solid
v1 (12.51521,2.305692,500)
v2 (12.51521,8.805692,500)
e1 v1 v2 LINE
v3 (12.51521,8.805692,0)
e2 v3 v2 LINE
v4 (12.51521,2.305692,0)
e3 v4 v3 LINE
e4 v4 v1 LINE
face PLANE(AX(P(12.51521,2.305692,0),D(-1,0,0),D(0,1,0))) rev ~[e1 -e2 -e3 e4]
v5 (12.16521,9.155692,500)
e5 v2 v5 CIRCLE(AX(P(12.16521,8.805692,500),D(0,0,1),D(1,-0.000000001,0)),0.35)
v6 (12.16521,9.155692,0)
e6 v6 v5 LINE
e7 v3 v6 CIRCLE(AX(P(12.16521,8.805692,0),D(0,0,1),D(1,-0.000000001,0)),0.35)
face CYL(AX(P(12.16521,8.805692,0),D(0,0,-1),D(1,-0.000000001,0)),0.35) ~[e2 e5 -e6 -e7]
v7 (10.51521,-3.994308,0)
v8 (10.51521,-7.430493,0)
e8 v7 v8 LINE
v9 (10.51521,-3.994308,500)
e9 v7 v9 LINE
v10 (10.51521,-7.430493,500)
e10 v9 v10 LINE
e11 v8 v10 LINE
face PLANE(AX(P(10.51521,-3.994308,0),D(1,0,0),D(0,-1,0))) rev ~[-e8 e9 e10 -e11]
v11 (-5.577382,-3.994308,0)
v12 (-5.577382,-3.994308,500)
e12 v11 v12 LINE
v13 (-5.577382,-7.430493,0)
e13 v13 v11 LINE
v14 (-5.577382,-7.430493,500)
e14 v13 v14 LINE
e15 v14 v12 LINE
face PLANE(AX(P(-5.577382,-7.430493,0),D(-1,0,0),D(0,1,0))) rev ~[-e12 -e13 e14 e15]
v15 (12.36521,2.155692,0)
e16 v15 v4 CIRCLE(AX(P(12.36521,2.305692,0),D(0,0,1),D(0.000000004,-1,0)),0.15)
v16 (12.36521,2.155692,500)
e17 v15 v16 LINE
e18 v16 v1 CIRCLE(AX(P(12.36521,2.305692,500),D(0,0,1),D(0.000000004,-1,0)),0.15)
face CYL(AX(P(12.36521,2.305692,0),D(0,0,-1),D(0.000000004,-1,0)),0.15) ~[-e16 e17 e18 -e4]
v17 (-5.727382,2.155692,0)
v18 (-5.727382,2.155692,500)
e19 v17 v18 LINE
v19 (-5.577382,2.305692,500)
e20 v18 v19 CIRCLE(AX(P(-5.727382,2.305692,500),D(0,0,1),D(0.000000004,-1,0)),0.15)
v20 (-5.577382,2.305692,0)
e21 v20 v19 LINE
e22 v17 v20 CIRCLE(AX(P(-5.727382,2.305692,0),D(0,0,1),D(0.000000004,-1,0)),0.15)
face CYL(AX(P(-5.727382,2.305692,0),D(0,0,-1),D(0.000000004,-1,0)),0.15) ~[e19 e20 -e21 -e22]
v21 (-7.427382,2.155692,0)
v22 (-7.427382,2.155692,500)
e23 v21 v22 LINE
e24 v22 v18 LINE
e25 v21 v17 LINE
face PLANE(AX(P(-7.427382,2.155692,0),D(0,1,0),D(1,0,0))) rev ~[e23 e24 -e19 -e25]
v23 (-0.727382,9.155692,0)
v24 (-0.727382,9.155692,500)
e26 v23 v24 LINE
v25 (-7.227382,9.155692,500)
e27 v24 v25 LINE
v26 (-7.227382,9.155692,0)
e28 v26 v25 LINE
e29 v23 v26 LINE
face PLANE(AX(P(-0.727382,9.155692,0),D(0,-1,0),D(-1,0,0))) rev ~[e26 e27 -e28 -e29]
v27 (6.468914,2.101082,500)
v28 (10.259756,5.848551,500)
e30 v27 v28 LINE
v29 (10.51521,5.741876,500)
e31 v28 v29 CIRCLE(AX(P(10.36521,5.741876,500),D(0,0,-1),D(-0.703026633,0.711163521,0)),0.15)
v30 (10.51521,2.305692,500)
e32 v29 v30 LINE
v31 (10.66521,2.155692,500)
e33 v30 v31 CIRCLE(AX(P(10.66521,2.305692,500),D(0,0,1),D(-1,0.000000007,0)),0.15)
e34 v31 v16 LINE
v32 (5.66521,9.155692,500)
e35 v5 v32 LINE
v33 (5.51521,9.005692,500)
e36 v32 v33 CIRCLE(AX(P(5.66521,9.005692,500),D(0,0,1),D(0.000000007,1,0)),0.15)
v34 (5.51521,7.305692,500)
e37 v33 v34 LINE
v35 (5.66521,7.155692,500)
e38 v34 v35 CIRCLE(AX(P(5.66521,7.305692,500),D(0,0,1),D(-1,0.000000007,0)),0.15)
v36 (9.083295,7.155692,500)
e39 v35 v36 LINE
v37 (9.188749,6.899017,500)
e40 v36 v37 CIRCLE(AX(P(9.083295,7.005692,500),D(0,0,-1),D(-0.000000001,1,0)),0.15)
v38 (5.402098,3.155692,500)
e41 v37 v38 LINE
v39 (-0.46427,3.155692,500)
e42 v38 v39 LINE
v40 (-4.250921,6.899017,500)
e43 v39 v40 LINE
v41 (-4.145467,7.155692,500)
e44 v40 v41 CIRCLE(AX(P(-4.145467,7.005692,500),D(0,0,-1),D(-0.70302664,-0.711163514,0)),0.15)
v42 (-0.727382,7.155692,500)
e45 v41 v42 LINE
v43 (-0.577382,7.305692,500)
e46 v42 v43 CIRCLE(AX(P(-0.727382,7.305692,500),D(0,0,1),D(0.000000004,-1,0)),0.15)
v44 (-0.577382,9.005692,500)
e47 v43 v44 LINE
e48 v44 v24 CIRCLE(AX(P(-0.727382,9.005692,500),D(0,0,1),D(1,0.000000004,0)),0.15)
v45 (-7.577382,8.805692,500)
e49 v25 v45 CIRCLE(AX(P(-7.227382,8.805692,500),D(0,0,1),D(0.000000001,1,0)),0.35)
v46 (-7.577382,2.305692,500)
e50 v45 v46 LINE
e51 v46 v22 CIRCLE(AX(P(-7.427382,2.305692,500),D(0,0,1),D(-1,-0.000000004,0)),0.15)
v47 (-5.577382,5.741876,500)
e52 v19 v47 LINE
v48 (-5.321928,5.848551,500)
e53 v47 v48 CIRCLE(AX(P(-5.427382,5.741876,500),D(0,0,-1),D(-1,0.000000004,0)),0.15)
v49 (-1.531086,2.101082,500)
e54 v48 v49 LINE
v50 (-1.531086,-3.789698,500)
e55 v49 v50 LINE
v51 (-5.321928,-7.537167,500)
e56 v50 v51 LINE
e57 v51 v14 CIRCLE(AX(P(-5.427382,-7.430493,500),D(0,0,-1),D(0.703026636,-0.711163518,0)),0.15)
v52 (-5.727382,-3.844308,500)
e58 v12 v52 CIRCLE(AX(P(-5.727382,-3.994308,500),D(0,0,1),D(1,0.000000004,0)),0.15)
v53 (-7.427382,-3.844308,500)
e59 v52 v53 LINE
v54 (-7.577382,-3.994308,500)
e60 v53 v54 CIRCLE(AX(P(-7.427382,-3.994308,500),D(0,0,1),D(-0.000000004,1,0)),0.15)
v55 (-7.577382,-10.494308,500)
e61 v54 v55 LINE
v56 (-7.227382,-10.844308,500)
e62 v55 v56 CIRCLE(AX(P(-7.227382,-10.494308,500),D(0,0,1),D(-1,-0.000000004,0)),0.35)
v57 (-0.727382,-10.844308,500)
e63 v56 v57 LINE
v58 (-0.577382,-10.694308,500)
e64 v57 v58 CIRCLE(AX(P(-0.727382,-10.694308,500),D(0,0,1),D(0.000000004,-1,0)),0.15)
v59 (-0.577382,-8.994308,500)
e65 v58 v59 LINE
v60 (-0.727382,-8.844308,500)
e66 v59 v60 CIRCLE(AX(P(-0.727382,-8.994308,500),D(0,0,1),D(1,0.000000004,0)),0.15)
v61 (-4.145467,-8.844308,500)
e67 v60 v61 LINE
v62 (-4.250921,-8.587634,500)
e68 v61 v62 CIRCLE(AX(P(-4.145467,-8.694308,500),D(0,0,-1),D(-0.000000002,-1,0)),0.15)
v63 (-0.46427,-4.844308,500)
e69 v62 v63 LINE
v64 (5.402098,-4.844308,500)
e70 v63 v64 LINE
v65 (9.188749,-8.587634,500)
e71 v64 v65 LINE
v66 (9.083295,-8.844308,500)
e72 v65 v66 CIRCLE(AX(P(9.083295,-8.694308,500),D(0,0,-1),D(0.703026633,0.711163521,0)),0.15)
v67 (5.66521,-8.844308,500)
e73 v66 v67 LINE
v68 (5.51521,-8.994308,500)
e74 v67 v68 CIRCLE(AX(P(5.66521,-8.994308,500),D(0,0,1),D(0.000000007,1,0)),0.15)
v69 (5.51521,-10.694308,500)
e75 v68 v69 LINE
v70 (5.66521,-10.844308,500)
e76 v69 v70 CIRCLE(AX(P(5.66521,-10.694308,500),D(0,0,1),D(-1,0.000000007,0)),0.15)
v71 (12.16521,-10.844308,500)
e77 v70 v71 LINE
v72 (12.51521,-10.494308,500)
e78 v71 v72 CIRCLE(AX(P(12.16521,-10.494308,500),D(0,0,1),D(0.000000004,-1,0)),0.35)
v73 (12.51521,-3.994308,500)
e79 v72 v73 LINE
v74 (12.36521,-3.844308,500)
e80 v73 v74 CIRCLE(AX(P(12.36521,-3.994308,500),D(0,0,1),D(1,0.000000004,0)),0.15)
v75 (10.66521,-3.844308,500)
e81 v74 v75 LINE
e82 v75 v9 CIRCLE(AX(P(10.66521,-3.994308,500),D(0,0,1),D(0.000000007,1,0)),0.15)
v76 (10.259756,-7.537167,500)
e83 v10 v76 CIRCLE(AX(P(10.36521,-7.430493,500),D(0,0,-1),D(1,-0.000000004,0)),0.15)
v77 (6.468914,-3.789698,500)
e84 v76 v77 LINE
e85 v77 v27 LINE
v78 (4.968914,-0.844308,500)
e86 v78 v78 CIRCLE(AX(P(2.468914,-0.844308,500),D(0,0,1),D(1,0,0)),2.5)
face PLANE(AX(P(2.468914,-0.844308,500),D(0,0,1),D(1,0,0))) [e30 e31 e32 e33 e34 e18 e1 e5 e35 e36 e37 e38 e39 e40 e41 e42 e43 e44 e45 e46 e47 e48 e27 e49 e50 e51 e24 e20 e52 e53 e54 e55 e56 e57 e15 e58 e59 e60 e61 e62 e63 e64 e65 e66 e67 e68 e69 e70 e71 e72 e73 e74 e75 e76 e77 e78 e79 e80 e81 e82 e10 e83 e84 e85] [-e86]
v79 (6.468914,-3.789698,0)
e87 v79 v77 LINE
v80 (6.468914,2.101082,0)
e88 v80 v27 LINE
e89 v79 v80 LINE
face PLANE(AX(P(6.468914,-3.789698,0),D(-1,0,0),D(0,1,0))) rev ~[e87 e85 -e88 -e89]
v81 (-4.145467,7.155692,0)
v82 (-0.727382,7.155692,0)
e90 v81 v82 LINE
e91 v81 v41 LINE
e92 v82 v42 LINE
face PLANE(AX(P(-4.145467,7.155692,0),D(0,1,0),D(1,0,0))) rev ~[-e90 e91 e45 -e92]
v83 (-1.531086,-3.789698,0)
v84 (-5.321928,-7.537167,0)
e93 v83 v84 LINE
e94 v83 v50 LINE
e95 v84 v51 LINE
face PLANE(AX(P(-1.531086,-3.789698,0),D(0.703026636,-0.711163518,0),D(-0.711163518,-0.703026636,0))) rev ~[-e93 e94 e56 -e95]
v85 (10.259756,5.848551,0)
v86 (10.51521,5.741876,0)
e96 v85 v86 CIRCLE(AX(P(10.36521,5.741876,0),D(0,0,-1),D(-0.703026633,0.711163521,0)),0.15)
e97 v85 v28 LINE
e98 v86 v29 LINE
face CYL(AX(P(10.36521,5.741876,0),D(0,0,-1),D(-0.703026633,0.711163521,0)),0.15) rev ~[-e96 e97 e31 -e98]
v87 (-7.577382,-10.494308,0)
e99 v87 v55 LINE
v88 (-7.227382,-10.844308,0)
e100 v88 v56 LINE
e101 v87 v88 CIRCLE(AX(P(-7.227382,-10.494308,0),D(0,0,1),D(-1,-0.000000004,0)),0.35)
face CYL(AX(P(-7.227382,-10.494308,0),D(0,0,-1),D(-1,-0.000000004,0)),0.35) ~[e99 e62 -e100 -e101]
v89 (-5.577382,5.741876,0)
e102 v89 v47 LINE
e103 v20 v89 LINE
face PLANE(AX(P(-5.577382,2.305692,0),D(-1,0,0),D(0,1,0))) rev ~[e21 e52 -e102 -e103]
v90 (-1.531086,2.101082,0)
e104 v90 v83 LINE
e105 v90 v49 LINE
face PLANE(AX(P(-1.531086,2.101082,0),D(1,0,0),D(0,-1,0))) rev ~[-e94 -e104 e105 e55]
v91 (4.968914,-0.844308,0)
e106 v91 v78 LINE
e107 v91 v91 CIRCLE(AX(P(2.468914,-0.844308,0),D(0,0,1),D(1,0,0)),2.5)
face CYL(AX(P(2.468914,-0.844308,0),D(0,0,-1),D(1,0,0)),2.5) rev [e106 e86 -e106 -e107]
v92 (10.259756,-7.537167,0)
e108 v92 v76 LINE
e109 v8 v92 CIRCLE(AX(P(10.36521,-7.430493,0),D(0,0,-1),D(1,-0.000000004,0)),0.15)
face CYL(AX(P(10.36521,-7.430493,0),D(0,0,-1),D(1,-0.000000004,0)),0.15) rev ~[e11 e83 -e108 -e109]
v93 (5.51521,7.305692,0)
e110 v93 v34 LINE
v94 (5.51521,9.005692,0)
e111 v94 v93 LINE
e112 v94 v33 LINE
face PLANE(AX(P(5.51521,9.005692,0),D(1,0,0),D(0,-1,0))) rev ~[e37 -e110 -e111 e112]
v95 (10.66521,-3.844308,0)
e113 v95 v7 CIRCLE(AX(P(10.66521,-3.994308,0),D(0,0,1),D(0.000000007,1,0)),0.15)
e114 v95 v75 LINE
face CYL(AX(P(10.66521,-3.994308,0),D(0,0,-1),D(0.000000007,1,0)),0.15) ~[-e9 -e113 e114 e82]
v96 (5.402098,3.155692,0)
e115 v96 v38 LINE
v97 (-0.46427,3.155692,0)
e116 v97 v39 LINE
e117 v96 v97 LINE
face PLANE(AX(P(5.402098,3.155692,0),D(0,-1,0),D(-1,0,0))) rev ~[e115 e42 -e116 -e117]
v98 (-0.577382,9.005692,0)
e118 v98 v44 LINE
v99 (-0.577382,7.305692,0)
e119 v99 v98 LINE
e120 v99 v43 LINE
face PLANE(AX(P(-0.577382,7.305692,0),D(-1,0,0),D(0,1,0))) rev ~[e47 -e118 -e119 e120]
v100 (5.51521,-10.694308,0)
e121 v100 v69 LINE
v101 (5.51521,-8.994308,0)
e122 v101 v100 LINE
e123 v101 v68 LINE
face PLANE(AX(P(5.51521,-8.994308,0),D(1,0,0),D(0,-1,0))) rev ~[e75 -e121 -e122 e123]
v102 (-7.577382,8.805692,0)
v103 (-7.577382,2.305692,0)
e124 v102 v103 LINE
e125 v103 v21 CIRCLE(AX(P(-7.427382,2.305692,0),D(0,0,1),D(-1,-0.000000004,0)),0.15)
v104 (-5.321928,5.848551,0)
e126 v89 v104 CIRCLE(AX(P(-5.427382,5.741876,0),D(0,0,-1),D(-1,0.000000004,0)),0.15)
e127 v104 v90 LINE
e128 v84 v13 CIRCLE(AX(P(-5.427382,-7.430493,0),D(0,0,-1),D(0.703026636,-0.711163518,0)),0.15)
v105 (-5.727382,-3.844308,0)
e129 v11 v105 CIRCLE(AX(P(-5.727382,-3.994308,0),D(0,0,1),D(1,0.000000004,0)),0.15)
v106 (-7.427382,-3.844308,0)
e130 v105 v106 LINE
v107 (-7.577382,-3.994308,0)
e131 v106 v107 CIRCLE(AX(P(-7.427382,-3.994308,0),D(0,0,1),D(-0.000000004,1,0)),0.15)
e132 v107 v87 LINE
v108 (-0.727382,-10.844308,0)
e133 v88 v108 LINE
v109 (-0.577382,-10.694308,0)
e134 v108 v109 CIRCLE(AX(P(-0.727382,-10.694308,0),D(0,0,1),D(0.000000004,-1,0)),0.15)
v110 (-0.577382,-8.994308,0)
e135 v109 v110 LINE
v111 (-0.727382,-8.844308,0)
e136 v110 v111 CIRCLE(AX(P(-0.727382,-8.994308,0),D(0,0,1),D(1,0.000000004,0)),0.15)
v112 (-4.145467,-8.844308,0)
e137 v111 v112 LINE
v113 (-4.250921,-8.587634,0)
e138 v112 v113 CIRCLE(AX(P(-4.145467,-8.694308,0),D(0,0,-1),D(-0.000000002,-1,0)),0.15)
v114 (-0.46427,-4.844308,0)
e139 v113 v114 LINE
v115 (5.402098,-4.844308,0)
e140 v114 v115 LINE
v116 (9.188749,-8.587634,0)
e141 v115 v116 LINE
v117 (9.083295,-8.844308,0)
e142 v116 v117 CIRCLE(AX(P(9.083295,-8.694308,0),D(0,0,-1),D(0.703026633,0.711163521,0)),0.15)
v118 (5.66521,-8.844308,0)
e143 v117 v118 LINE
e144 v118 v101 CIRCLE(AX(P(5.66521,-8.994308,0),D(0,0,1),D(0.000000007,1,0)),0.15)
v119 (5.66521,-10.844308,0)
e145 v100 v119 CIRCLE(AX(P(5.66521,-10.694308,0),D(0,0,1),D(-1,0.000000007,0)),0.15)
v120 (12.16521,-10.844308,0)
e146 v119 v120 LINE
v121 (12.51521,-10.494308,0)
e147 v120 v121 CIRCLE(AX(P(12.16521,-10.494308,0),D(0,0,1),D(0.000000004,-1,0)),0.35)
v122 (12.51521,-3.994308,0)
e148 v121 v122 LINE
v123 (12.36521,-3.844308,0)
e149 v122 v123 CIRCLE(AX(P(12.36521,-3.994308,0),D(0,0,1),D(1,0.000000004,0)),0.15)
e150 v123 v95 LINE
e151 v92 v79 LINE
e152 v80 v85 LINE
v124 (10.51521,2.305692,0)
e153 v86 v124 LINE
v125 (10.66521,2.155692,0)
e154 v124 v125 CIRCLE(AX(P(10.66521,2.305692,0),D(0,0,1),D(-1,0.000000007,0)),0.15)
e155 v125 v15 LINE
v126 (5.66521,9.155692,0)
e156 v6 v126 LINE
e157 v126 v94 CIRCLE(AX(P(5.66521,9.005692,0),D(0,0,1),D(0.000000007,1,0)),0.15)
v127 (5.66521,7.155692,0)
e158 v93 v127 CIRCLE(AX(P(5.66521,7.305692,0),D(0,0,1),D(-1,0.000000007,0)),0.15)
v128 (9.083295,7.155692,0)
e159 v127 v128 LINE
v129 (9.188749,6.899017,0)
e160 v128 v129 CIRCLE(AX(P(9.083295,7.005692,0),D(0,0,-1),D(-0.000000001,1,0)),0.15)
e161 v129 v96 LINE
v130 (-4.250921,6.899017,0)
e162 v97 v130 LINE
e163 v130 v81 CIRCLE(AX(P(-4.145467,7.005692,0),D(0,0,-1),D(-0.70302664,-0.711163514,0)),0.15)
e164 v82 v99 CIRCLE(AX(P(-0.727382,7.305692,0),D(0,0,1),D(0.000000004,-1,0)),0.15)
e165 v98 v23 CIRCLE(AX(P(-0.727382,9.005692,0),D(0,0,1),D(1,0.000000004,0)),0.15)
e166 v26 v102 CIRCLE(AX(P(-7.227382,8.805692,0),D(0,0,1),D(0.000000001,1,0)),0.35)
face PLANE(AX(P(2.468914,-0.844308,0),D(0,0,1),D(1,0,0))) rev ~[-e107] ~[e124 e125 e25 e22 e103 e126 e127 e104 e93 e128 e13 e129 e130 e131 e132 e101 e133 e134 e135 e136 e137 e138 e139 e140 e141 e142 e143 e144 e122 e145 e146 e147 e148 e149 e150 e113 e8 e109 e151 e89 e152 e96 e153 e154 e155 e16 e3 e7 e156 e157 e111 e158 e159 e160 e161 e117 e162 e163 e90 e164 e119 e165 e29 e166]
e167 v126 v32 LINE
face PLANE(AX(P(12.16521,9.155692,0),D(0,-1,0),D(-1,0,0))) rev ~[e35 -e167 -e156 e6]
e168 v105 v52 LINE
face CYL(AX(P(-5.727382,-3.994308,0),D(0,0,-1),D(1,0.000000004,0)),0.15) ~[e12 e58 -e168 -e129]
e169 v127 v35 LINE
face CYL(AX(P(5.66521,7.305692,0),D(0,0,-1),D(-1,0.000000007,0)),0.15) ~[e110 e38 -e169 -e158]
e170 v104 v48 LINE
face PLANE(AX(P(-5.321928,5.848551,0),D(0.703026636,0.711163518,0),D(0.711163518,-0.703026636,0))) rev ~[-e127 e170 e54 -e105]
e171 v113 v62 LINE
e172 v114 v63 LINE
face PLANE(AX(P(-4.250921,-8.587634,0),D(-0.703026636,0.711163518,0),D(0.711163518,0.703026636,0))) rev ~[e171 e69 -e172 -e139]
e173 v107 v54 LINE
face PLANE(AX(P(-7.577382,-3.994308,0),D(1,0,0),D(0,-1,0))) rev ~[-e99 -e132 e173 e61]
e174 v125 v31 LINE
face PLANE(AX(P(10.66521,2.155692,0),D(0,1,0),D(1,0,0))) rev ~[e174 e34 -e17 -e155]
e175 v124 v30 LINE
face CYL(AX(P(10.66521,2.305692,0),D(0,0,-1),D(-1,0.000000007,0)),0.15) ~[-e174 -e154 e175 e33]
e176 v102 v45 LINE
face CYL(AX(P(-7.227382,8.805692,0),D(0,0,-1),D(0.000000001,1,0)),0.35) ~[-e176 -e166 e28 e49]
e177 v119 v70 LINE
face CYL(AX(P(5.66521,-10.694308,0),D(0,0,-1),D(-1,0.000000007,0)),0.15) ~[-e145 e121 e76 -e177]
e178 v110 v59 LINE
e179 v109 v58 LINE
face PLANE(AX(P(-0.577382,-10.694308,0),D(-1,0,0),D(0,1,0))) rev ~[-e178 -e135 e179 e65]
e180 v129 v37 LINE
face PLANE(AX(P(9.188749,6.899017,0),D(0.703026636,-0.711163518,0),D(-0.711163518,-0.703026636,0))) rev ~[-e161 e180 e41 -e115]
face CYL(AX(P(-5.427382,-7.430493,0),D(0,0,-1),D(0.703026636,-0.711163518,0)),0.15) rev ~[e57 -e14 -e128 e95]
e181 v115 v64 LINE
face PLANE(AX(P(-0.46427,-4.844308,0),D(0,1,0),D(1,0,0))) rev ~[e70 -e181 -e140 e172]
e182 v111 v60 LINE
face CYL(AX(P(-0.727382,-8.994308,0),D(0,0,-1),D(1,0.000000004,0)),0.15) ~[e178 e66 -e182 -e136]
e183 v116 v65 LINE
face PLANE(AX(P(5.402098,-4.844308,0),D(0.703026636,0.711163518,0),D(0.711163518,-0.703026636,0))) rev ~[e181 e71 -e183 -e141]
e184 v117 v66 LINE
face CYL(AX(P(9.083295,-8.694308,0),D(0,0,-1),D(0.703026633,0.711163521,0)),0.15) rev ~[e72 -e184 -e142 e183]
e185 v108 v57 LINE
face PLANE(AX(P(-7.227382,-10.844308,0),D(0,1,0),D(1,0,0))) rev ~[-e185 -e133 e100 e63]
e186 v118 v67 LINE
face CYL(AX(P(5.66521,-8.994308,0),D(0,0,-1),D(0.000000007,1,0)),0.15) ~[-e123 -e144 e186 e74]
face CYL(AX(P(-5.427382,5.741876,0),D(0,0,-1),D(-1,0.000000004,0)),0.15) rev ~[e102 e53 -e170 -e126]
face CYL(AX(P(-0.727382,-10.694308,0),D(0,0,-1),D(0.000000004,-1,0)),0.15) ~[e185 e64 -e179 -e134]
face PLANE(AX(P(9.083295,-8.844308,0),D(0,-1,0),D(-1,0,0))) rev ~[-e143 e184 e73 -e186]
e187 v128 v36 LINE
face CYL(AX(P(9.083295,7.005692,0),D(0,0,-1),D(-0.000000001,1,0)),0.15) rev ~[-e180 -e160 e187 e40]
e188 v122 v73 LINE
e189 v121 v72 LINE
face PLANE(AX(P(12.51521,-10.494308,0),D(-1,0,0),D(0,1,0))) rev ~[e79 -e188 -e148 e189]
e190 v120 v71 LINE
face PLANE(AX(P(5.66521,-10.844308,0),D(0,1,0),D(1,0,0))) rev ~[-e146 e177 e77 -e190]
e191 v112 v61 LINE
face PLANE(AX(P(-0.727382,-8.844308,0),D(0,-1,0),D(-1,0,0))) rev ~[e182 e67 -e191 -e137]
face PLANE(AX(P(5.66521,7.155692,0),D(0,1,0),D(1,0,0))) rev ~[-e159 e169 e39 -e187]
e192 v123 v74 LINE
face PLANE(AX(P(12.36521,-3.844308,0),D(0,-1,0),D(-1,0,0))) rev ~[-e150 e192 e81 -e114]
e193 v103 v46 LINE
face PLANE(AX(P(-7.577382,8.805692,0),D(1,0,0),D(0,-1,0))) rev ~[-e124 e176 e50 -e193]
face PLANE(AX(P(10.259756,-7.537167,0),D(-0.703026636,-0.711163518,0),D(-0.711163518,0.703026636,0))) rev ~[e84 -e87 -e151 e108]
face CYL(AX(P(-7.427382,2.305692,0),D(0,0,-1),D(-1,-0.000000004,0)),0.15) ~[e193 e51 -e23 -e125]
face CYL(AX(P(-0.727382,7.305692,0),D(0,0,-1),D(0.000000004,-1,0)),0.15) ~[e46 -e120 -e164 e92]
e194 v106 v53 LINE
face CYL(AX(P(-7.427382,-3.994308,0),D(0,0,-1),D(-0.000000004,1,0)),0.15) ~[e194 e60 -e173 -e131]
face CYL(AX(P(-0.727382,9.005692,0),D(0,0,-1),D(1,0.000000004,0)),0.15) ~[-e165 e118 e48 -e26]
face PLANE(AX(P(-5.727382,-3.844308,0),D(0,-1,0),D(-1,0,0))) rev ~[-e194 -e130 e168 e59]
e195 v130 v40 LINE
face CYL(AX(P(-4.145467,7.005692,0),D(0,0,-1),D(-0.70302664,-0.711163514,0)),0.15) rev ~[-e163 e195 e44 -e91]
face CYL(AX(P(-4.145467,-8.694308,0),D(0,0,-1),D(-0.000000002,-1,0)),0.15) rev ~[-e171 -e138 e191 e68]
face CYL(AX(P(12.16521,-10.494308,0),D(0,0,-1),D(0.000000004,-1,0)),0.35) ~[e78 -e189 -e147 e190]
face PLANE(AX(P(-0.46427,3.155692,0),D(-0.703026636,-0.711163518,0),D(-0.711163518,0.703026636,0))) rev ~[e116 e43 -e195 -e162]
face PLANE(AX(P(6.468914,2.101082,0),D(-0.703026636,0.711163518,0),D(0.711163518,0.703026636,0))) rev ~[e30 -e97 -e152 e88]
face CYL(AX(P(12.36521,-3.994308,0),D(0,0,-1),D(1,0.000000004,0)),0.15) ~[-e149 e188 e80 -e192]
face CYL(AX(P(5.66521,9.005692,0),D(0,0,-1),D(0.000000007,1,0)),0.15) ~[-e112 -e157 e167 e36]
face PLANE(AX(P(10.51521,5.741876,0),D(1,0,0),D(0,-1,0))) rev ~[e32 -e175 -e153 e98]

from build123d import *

# Parameters (mm, degrees)
SKETCH1_R           = 2.5
BOSS_EXTRUDE1_DEPTH = 500


with BuildPart() as part:
    # Sketch1 → Boss-Extrude1 (new body)
    with BuildSketch(Plane.XY):
        with BuildLine():
            Line((-7.427382464, 2.155691805), (-5.727382464, 2.155691805))
            ThreePointArc((-5.727382464, 2.155691805), (-5.621316447, 2.199625788), (-5.577382464, 2.305691805))
            Line((-5.577382464, 2.305691805), (-5.577382464, 5.741876319))
            ThreePointArc((-5.577382464, 5.741876319), (-5.485183419, 5.880292537), (-5.321928469, 5.848550846))
            Line((-5.321928469, 5.848550846), (-1.531086168, 2.101082027))
            Line((-1.531086168, 2.101082027), (-1.531086168, -3.789698417))
            Line((-1.531086168, -3.789698417), (-5.321928469, -7.537167236))
            ThreePointArc((-5.321928469, -7.537167236), (-5.485183419, -7.568908927), (-5.577382464, -7.430492708))
            Line((-5.577382464, -7.430492708), (-5.577382464, -3.994308195))
            ThreePointArc((-5.577382464, -3.994308195), (-5.621316447, -3.888242178), (-5.727382464, -3.844308195))
            Line((-5.727382464, -3.844308195), (-7.427382464, -3.844308195))
            ThreePointArc((-7.427382464, -3.844308195), (-7.533448481, -3.888242178), (-7.577382464, -3.994308195))
            Line((-7.577382464, -3.994308195), (-7.577382464, -10.494308195))
            ThreePointArc((-7.577382464, -10.494308195), (-7.474869837, -10.741795568), (-7.227382464, -10.844308195))
            Line((-7.227382464, -10.844308195), (-0.727382464, -10.844308195))
            ThreePointArc((-0.727382464, -10.844308195), (-0.621316447, -10.800374212), (-0.577382464, -10.694308195))
            Line((-0.577382464, -10.694308195), (-0.577382464, -8.994308195))
            ThreePointArc((-0.577382464, -8.994308195), (-0.621316447, -8.888242178), (-0.727382464, -8.844308195))
            Line((-0.727382464, -8.844308195), (-4.145467261, -8.844308195))
            ThreePointArc((-4.145467261, -8.844308195), (-4.284213755, -8.751311795), (-4.250921257, -8.587633667))
            Line((-4.250921257, -8.587633667), (-0.464270258, -4.844308195))
            Line((-0.464270258, -4.844308195), (5.402097922, -4.844308195))
            Line((5.402097922, -4.844308195), (9.188748921, -8.587633667))
            ThreePointArc((9.188748921, -8.587633667), (9.22204142, -8.751311795), (9.083294926, -8.844308195))
            Line((9.083294926, -8.844308195), (5.665210129, -8.844308195))
            ThreePointArc((5.665210129, -8.844308195), (5.559144111, -8.888242178), (5.515210129, -8.994308195))
            Line((5.515210129, -8.994308195), (5.515210129, -10.694308195))
            ThreePointArc((5.515210129, -10.694308195), (5.559144111, -10.800374212), (5.665210129, -10.844308195))
            Line((5.665210129, -10.844308195), (12.165210129, -10.844308195))
            ThreePointArc((12.165210129, -10.844308195), (12.412697502, -10.741795568), (12.515210129, -10.494308195))
            Line((12.515210129, -10.494308195), (12.515210129, -3.994308195))
            ThreePointArc((12.515210129, -3.994308195), (12.471276146, -3.888242178), (12.365210129, -3.844308195))
            Line((12.365210129, -3.844308195), (10.665210129, -3.844308195))
            ThreePointArc((10.665210129, -3.844308195), (10.559144111, -3.888242178), (10.515210129, -3.994308195))
            Line((10.515210129, -3.994308195), (10.515210129, -7.430492708))
            ThreePointArc((10.515210129, -7.430492708), (10.423011083, -7.568908927), (10.259756133, -7.537167236))
            Line((10.259756133, -7.537167236), (6.468913832, -3.789698417))
            Line((6.468913832, -3.789698417), (6.468913832, 2.101082027))
            Line((6.468913832, 2.101082027), (10.259756133, 5.848550846))
            ThreePointArc((10.259756133, 5.848550846), (10.423011083, 5.880292537), (10.515210129, 5.741876319))
            Line((10.515210129, 5.741876319), (10.515210129, 2.305691805))
            ThreePointArc((10.515210129, 2.305691805), (10.559144111, 2.199625788), (10.665210129, 2.155691805))
            Line((10.665210129, 2.155691805), (12.365210129, 2.155691805))
            ThreePointArc((12.365210129, 2.155691805), (12.471276146, 2.199625788), (12.515210129, 2.305691805))
            Line((12.515210129, 2.305691805), (12.515210129, 8.805691805))
            ThreePointArc((12.515210129, 8.805691805), (12.412697502, 9.053179179), (12.165210129, 9.155691805))
            Line((12.165210129, 9.155691805), (5.665210129, 9.155691805))
            ThreePointArc((5.665210129, 9.155691805), (5.559144111, 9.111757822), (5.515210129, 9.005691805))
            Line((5.515210129, 9.005691805), (5.515210129, 7.305691805))
            ThreePointArc((5.515210129, 7.305691805), (5.559144111, 7.199625788), (5.665210129, 7.155691805))
            Line((5.665210129, 7.155691805), (9.083294926, 7.155691805))
            ThreePointArc((9.083294926, 7.155691805), (9.22204142, 7.062695405), (9.188748921, 6.899017277))
            Line((9.188748921, 6.899017277), (5.402097922, 3.155691805))
            Line((5.402097922, 3.155691805), (-0.464270258, 3.155691805))
            Line((-0.464270258, 3.155691805), (-4.250921257, 6.899017277))
            ThreePointArc((-4.250921257, 6.899017277), (-4.284213755, 7.062695405), (-4.145467261, 7.155691805))
            Line((-4.145467261, 7.155691805), (-0.727382464, 7.155691805))
            ThreePointArc((-0.727382464, 7.155691805), (-0.621316447, 7.199625788), (-0.577382464, 7.305691805))
            Line((-0.577382464, 7.305691805), (-0.577382464, 9.005691805))
            ThreePointArc((-0.577382464, 9.005691805), (-0.621316447, 9.111757822), (-0.727382464, 9.155691805))
            Line((-0.727382464, 9.155691805), (-7.227382464, 9.155691805))
            ThreePointArc((-7.227382464, 9.155691805), (-7.474869837, 9.053179179), (-7.577382464, 8.805691805))
            Line((-7.577382464, 8.805691805), (-7.577382464, 2.305691805))
            ThreePointArc((-7.577382464, 2.305691805), (-7.533448481, 2.199625788), (-7.427382464, 2.155691805))
        make_face()
        with Locations((2.468913832, -0.844308195)):
            Circle(SKETCH1_R, mode=Mode.SUBTRACT)
    extrude(amount=BOSS_EXTRUDE1_DEPTH)


solid = part.part
